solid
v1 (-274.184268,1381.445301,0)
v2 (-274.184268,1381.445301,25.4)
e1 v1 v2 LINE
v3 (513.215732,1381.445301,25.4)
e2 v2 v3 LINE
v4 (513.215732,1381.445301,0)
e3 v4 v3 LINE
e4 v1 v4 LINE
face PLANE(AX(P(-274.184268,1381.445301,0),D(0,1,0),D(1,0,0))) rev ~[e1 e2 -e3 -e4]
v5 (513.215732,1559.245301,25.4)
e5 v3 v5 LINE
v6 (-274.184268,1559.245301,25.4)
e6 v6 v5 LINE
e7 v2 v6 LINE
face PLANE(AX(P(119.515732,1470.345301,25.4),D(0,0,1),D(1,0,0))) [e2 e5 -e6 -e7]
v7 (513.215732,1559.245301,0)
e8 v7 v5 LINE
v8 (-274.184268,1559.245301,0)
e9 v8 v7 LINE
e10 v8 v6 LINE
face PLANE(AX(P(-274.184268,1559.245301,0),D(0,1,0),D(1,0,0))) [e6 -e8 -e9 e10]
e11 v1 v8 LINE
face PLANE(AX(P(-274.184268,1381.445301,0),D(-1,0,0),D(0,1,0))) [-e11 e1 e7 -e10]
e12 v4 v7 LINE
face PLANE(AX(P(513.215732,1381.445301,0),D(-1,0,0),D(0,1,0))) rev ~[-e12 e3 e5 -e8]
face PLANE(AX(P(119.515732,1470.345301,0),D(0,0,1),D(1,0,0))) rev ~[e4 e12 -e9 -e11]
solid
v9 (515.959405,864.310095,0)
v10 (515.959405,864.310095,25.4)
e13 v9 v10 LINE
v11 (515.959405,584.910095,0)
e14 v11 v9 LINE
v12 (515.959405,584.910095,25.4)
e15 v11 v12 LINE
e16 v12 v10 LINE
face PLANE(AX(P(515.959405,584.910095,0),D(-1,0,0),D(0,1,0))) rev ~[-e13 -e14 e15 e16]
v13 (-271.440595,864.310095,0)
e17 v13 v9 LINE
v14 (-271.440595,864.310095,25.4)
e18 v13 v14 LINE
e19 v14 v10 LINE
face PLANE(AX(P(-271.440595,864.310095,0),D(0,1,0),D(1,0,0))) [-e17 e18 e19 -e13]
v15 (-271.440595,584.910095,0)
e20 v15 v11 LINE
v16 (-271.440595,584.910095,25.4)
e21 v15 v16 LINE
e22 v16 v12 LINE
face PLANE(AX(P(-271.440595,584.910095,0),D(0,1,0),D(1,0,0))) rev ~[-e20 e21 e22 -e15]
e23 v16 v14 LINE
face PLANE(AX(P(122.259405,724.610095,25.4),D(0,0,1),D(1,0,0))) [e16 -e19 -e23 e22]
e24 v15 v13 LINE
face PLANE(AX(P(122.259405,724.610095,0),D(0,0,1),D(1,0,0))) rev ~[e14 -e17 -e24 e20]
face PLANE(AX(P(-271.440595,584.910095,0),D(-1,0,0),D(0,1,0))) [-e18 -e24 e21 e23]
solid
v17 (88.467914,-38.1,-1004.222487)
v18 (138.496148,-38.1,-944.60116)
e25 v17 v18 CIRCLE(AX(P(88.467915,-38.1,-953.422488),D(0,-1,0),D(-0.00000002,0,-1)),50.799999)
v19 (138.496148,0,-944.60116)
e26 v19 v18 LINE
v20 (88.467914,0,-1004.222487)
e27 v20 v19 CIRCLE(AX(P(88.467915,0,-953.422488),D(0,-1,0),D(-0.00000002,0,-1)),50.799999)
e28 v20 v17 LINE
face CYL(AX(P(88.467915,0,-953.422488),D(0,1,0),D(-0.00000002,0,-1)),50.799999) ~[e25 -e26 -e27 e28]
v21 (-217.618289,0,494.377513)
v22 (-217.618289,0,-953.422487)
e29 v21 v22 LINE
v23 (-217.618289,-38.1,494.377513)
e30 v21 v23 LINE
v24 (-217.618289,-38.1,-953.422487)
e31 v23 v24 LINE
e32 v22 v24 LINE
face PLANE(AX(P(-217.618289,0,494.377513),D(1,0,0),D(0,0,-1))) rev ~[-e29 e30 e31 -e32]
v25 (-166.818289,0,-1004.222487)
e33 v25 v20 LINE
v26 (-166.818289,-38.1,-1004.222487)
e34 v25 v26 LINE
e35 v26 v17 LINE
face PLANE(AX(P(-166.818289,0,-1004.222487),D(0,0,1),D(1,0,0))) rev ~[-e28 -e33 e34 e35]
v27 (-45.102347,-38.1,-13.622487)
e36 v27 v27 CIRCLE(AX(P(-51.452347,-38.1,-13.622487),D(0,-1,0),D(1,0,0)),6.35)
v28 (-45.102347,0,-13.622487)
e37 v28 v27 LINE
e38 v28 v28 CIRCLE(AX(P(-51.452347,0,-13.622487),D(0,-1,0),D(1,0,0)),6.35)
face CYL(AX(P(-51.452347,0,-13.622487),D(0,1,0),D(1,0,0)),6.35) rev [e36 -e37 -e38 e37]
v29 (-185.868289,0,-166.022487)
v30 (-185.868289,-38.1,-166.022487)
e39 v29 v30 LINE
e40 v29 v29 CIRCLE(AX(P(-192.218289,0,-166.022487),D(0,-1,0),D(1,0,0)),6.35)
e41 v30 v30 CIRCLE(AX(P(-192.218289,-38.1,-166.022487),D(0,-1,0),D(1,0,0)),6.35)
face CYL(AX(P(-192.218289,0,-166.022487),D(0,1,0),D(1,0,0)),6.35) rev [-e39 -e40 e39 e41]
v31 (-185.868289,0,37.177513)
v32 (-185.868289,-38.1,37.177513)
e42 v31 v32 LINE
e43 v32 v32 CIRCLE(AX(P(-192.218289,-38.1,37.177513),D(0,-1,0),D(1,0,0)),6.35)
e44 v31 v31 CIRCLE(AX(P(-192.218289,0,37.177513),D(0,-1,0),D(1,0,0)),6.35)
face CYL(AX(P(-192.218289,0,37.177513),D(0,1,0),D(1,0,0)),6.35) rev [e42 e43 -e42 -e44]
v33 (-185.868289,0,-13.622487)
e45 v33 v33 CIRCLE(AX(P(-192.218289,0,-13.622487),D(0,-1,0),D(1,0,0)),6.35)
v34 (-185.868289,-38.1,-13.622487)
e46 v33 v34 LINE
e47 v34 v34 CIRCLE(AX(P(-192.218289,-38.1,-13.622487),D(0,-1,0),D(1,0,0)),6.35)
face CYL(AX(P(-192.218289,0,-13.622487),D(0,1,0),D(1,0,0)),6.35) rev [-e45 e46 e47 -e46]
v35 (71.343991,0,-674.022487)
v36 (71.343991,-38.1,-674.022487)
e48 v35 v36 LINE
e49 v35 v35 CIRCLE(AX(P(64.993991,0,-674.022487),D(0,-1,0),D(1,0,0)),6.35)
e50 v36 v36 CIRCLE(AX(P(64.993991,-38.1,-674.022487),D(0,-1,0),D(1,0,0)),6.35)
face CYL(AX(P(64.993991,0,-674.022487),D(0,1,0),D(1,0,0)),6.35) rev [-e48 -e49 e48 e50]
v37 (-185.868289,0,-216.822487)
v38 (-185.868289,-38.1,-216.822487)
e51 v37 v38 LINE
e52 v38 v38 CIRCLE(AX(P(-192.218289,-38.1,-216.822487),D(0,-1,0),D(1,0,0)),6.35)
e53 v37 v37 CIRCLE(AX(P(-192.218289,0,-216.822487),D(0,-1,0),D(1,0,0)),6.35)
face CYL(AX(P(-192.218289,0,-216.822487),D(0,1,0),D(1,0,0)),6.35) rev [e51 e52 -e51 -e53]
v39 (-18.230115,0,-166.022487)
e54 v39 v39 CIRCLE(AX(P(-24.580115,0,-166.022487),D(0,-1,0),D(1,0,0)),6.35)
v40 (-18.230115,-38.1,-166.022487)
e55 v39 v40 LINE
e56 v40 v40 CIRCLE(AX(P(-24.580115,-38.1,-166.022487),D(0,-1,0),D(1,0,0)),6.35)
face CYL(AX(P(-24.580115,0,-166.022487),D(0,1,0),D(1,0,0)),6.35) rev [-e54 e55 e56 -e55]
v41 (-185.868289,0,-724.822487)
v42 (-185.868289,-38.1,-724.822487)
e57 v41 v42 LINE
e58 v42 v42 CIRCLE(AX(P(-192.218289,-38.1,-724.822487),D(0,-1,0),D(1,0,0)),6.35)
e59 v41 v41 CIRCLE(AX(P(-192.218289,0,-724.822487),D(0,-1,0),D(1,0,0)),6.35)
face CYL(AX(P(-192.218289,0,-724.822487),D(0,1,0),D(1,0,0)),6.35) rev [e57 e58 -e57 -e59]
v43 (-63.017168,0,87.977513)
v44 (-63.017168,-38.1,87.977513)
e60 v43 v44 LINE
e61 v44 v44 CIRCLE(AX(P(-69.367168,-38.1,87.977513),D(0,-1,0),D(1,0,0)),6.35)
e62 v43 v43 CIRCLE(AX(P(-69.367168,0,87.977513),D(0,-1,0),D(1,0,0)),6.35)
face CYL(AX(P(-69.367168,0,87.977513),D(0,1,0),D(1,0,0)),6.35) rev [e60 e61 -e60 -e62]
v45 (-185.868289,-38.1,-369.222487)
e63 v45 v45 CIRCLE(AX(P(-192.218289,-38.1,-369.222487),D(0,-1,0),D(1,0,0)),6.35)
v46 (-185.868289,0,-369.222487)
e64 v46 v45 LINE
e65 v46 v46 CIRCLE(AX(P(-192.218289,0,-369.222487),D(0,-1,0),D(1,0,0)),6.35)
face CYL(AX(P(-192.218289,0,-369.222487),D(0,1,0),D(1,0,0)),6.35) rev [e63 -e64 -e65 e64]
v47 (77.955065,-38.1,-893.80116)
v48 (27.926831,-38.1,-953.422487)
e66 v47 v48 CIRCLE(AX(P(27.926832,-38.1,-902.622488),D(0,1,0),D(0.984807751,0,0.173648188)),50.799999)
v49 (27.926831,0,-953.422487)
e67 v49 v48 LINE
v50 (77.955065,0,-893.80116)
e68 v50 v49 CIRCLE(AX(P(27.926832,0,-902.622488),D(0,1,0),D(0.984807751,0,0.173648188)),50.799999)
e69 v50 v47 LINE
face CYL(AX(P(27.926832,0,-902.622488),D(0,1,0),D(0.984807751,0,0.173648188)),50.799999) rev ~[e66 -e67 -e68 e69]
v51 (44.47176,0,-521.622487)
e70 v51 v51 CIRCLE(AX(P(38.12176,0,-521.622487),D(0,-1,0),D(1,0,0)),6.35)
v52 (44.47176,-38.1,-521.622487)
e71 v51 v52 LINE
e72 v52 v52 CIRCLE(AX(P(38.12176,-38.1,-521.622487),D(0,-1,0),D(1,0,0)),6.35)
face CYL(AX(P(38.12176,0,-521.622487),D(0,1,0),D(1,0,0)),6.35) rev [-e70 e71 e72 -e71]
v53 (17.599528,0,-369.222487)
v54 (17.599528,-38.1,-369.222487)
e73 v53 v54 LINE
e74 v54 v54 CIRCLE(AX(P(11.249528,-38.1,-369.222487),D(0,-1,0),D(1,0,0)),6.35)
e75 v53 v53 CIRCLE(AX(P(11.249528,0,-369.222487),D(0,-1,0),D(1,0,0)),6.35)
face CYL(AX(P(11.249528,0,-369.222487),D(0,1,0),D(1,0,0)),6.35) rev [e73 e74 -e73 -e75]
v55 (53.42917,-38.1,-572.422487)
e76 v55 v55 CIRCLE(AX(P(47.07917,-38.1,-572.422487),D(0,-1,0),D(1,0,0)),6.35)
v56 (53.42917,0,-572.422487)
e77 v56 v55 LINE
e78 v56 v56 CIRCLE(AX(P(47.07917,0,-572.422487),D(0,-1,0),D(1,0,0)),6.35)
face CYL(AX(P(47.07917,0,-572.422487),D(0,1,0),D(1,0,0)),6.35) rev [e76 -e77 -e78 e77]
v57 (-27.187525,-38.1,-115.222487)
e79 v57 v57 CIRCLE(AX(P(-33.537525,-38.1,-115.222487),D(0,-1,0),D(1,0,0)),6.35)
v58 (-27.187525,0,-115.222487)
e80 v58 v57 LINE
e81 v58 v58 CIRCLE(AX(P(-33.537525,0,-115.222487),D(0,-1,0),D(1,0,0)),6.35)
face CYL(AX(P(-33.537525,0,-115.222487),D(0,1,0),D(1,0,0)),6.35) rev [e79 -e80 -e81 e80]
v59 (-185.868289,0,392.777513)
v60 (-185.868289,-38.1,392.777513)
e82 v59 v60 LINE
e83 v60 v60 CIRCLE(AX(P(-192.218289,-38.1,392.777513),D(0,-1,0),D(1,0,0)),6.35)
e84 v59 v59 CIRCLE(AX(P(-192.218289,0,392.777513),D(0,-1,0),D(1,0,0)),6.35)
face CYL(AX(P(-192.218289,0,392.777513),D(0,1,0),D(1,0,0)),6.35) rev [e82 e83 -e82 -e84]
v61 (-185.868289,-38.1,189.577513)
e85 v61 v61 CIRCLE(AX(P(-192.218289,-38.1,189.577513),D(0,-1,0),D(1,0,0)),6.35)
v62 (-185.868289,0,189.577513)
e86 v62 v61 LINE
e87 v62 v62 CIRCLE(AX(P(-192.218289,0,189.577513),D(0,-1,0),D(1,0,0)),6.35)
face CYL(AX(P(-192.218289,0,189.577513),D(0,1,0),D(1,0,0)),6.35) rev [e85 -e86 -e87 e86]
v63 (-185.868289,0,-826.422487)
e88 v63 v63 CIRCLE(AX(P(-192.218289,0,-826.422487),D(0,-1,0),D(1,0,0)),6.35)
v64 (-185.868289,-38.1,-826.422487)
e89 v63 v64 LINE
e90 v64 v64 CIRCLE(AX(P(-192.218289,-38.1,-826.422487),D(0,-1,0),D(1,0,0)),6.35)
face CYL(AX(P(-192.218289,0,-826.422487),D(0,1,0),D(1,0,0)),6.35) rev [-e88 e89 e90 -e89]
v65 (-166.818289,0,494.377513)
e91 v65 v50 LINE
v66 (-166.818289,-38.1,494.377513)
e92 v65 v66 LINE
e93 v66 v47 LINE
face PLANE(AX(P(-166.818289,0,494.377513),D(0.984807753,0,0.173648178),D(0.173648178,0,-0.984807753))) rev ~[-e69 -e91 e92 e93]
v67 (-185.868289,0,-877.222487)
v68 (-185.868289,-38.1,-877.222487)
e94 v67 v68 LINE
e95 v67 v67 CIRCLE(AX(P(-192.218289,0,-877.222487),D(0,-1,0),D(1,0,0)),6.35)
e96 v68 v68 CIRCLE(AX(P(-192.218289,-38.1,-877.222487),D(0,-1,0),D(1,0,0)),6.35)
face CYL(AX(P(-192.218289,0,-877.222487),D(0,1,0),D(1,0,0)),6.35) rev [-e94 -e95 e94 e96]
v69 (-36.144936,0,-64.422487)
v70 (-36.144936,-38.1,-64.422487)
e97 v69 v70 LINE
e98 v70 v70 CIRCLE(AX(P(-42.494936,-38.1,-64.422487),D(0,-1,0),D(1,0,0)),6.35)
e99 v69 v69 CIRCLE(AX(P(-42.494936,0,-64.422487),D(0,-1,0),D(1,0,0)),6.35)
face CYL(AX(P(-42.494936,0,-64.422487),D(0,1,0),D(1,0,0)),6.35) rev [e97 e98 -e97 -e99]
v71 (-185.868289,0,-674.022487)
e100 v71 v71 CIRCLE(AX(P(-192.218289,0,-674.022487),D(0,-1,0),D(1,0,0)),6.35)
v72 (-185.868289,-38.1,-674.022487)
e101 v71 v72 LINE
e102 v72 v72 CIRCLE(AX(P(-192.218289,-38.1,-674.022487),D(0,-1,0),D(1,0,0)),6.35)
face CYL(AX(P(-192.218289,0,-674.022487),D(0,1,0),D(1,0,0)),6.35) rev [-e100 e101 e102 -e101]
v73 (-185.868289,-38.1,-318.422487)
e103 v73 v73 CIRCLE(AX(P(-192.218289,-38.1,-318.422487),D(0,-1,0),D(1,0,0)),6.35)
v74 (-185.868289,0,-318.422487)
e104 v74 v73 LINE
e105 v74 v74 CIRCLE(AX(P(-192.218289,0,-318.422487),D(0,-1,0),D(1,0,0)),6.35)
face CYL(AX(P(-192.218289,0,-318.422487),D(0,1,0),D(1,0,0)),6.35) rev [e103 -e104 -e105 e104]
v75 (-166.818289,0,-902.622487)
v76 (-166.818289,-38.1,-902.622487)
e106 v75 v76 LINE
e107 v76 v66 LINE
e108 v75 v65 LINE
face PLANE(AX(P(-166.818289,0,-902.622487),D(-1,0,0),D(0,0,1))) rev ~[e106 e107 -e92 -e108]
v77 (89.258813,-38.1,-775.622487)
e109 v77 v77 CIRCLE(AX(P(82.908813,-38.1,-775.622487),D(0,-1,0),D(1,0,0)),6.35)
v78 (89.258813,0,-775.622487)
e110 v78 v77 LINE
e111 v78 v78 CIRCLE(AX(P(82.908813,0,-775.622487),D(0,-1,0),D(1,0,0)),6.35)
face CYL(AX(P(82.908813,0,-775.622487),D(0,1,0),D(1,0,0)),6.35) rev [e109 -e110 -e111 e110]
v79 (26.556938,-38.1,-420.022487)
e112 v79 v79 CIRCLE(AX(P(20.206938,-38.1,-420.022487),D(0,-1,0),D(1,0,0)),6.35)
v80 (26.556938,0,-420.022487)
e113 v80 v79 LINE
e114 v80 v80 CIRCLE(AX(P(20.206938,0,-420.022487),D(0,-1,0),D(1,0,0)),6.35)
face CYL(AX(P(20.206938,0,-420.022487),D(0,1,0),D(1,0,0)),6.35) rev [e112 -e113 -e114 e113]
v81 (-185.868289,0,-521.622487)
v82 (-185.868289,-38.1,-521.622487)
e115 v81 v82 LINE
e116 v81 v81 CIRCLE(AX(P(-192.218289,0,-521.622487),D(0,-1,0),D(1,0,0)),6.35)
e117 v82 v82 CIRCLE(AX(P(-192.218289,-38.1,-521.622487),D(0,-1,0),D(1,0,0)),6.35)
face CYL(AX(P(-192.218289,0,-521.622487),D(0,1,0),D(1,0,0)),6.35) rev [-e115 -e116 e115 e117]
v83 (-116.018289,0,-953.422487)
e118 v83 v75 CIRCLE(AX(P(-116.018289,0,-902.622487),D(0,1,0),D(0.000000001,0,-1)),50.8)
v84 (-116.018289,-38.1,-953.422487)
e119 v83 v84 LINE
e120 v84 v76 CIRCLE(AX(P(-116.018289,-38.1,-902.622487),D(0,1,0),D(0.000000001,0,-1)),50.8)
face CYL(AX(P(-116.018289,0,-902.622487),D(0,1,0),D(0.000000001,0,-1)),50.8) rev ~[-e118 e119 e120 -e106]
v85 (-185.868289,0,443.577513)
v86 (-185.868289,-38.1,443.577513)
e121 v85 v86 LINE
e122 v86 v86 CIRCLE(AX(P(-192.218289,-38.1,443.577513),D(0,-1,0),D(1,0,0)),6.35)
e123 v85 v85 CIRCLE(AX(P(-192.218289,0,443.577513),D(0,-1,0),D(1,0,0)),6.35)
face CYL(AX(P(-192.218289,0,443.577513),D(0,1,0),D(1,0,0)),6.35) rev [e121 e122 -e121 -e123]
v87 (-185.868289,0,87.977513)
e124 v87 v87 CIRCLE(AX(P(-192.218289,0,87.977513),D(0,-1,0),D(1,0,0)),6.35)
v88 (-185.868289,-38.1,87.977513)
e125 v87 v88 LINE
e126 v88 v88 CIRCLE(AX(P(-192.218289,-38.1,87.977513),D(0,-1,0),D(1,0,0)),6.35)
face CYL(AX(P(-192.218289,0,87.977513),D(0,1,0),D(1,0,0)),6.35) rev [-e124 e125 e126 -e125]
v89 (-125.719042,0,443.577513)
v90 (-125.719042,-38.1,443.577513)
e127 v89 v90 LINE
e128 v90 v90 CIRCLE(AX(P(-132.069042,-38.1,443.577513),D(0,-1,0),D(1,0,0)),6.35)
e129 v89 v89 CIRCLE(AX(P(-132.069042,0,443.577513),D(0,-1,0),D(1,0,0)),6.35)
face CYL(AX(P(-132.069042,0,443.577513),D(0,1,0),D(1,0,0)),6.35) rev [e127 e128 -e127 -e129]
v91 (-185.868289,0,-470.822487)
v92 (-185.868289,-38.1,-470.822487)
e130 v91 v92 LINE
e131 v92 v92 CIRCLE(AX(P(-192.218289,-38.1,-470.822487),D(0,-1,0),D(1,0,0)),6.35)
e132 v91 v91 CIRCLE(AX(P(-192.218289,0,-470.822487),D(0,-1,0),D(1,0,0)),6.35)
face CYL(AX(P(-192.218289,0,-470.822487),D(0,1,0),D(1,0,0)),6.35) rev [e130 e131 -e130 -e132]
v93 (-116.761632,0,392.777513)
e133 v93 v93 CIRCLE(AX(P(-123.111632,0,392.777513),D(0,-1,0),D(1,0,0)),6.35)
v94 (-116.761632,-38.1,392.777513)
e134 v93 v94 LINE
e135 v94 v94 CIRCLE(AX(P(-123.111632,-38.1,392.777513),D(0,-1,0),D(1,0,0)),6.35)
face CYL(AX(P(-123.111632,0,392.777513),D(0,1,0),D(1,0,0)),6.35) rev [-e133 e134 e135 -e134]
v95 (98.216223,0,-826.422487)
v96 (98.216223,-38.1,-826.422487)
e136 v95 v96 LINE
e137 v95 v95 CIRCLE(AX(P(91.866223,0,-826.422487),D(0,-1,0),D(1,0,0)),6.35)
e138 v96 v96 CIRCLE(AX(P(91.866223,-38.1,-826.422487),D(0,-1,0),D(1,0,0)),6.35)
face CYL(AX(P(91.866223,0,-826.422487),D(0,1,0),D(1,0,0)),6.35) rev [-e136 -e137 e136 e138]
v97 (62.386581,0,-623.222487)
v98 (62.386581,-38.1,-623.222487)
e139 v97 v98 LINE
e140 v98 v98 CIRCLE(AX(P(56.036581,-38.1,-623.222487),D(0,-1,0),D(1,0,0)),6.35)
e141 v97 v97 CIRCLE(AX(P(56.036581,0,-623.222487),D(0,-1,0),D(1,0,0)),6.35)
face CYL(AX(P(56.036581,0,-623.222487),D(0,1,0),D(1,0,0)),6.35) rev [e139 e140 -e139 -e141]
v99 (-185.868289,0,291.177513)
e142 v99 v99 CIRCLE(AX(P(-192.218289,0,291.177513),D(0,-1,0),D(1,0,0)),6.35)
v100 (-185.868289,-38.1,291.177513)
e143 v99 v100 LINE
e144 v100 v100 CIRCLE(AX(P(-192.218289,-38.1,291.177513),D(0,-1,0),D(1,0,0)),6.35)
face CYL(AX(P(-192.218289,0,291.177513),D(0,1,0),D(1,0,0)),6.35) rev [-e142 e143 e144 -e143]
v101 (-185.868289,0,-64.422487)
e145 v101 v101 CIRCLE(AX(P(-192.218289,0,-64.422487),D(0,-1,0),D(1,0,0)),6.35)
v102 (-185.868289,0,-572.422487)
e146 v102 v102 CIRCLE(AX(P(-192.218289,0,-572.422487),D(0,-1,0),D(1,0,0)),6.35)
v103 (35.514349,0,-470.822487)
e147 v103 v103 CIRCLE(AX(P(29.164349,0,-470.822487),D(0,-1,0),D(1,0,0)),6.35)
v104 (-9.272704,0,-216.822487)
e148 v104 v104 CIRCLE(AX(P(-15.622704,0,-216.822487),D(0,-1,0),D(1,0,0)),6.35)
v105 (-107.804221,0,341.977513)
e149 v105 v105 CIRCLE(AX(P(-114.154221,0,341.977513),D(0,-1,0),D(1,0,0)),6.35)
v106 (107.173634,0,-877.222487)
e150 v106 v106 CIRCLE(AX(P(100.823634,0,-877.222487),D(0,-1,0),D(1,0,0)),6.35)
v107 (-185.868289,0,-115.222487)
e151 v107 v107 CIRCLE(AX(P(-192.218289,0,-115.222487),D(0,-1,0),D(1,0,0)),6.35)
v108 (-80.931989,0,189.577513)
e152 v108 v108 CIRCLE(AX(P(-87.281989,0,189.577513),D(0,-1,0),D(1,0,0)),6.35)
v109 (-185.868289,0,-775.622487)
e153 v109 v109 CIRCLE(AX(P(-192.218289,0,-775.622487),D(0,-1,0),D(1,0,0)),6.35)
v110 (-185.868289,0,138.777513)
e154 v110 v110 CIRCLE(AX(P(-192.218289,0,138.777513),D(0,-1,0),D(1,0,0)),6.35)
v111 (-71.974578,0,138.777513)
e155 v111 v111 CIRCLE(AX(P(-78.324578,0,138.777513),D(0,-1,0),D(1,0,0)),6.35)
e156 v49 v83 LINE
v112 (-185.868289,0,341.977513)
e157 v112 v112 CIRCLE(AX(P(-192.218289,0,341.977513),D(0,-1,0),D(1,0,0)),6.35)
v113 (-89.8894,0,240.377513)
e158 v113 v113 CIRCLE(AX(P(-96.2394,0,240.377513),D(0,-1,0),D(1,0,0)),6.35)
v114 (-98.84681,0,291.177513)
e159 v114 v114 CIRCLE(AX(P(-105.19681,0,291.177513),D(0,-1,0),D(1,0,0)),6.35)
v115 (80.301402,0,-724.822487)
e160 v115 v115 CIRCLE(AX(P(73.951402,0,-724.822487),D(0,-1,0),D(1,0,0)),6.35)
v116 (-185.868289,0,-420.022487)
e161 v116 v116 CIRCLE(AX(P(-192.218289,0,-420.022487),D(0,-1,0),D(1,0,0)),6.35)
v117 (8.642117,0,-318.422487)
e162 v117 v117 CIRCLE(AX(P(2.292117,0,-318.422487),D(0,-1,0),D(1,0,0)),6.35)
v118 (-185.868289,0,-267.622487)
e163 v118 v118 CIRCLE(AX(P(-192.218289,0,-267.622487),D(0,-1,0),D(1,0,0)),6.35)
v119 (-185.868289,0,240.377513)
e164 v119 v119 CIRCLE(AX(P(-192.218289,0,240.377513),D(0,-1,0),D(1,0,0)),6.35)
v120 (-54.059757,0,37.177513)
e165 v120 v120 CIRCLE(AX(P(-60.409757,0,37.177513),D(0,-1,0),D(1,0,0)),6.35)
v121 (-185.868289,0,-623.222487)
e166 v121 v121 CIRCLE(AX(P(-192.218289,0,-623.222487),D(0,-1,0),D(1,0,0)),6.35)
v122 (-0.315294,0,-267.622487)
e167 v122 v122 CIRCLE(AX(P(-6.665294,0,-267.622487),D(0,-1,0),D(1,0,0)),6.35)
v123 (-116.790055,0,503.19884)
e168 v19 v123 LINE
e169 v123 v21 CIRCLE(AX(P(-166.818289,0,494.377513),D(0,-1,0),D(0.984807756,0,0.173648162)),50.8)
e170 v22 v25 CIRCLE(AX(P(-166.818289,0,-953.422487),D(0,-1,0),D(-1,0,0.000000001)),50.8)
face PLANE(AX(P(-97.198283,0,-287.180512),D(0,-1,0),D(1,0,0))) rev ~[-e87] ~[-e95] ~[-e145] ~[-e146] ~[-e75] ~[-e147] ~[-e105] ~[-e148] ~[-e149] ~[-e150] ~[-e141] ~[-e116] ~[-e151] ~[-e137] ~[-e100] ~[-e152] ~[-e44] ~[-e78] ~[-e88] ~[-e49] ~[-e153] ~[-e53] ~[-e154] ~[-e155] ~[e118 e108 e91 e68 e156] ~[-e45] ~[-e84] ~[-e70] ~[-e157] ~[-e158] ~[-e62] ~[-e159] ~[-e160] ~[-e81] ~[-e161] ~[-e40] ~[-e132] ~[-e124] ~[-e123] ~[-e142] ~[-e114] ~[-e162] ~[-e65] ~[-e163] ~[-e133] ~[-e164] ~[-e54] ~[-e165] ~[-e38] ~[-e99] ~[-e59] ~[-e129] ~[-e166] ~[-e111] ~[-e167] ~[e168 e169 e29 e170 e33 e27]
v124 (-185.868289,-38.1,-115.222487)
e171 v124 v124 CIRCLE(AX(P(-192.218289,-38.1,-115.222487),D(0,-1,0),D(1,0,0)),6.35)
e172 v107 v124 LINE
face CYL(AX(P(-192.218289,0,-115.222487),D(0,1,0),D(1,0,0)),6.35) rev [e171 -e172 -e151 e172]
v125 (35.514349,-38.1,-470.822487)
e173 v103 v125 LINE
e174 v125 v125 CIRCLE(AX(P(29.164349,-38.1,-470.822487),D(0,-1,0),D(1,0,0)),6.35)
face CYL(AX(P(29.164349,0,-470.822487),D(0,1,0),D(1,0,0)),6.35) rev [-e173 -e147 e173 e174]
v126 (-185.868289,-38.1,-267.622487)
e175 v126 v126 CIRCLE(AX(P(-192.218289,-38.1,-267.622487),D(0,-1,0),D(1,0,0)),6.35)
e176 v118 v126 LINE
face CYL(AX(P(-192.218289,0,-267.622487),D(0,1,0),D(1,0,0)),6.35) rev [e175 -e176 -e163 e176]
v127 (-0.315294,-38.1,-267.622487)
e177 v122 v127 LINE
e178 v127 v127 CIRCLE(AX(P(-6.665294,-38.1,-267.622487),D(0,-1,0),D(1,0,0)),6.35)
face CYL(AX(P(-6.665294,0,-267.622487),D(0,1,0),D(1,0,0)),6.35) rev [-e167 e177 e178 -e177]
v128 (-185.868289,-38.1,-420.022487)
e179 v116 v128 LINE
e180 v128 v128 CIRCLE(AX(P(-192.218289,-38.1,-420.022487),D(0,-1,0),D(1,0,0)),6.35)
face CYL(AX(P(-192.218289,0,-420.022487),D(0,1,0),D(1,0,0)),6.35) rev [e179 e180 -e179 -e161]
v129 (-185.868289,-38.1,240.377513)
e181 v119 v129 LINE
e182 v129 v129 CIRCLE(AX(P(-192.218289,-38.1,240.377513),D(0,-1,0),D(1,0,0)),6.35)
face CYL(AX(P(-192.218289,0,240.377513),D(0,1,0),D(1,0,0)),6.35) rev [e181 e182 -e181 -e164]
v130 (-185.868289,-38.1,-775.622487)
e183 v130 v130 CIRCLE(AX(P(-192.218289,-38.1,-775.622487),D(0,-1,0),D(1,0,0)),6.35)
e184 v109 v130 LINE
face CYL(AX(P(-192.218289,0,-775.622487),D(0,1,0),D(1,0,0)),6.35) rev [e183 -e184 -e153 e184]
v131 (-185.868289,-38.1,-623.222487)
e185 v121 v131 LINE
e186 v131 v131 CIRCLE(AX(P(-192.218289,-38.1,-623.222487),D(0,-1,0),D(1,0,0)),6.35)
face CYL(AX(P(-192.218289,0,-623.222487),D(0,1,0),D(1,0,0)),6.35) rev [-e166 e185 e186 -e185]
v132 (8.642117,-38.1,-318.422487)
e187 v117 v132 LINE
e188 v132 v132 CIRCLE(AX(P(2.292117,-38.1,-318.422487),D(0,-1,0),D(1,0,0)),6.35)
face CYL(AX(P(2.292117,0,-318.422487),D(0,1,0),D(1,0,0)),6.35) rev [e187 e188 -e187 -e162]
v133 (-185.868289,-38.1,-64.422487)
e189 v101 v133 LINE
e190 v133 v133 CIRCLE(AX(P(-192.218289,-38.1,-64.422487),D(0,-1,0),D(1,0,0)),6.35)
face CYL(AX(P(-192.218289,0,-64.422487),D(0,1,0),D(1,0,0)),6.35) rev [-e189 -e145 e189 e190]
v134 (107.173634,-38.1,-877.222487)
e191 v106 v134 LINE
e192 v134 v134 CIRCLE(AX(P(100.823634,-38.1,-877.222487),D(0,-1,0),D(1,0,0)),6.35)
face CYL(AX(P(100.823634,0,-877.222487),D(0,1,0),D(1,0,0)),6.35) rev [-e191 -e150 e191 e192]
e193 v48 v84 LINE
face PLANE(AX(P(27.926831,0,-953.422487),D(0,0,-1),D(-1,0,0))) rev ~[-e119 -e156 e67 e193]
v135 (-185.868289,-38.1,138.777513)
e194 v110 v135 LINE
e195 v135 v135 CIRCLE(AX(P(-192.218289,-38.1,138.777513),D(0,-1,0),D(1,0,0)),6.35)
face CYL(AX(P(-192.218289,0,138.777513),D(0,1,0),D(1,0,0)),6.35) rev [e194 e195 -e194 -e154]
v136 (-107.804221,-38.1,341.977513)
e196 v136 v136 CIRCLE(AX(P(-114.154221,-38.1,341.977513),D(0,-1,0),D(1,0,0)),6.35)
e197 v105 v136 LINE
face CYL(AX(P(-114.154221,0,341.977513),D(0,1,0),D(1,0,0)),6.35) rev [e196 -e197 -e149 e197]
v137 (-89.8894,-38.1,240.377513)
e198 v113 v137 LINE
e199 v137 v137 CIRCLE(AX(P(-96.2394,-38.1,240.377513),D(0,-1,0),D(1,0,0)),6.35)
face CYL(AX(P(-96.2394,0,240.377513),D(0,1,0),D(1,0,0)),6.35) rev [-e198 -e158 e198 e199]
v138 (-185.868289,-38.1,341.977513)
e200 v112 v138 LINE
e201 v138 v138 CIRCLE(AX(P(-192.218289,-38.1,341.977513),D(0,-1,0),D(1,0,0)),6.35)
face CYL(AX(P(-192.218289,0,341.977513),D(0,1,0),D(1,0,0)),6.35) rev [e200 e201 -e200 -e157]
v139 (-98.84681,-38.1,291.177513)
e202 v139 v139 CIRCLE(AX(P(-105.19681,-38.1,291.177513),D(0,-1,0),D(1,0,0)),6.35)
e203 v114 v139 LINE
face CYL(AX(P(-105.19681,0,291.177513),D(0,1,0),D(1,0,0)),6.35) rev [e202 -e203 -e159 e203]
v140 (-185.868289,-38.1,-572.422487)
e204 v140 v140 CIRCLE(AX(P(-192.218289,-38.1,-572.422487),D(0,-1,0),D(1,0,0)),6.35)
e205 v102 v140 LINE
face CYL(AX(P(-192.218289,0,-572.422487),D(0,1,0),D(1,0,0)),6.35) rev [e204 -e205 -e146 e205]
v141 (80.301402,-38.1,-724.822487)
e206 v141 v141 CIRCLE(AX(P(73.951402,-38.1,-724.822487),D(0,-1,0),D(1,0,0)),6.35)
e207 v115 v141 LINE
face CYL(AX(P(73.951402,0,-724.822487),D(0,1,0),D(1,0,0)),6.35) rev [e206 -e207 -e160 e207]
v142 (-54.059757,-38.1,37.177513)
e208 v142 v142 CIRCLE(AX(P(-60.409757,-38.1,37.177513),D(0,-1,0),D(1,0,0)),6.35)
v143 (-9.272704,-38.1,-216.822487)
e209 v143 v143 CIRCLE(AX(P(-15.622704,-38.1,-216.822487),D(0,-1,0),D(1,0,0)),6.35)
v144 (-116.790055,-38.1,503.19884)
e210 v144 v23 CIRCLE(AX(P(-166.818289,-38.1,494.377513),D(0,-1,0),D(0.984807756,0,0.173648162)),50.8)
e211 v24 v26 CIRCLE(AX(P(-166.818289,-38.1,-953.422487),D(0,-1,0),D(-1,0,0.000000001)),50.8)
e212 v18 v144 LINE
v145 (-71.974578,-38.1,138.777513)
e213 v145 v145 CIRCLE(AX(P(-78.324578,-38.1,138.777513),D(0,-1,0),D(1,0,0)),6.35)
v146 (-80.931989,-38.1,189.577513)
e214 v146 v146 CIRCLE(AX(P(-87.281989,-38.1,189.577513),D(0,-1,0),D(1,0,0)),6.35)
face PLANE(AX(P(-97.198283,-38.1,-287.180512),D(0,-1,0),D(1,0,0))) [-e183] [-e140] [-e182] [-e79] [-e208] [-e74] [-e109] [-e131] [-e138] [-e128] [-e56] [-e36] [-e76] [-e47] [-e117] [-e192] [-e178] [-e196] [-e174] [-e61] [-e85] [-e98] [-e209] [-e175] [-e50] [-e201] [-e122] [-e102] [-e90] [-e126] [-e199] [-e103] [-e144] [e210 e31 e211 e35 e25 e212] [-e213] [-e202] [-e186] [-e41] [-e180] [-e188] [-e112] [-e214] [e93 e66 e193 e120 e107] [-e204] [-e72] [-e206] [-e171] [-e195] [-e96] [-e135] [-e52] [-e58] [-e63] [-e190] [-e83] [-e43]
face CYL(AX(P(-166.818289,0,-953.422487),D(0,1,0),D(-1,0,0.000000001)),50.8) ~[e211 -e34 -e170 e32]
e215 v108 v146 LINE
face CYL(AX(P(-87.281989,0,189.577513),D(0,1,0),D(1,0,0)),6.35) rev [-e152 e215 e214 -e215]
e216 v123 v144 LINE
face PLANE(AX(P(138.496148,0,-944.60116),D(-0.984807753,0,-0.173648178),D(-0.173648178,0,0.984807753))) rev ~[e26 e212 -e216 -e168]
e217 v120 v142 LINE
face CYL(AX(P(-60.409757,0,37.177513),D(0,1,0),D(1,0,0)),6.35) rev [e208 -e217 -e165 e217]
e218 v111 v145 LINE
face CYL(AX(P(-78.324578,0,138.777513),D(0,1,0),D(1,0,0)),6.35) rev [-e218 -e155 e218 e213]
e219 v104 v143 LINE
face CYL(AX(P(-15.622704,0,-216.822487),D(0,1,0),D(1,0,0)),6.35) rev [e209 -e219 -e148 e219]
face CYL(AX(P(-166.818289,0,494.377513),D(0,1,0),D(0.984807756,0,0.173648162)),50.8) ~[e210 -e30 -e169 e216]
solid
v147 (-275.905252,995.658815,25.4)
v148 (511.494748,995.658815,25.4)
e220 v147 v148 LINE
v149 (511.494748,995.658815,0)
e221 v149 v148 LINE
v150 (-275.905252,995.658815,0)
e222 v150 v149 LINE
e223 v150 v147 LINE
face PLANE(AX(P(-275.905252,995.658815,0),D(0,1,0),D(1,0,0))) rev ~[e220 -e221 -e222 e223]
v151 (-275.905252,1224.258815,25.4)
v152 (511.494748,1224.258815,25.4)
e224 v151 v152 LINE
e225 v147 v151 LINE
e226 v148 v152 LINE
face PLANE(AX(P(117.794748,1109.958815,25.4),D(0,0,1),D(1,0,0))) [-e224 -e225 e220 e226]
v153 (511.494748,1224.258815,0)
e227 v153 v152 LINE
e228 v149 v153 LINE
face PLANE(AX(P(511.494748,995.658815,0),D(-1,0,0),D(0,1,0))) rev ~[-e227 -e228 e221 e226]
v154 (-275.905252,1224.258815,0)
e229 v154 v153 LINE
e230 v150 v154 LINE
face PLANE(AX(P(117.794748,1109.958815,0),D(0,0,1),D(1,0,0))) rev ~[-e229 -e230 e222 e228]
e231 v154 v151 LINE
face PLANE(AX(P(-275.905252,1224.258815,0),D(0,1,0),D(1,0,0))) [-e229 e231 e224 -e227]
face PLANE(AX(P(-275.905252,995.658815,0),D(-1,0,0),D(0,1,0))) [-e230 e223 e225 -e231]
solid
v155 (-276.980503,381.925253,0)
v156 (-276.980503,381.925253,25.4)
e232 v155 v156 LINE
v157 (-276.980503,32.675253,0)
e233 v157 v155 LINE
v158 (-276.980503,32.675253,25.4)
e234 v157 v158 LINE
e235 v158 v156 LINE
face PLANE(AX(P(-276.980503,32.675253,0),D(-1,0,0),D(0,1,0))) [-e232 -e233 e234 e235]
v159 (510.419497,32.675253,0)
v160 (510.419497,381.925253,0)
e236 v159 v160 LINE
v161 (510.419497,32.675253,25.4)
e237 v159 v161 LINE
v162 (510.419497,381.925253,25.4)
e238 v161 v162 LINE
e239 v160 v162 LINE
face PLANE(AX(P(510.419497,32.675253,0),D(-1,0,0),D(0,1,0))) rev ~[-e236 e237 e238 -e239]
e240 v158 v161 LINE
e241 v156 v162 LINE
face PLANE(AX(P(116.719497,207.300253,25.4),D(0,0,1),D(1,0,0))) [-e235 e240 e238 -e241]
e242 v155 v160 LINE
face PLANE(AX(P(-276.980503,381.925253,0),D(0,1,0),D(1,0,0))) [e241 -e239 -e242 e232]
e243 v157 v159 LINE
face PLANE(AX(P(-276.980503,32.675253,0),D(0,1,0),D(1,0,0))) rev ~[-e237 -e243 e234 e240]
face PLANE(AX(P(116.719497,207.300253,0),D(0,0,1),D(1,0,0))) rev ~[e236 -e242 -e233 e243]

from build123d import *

# Parameters (mm, degrees)
F0_R     = 6.35
F1_DEPTH = 38.1
F2_W     = 787.4
F2_H     = 349.25
F2_H_2   = 279.4
F2_H_3   = 228.6
F2_H_4   = 177.8
F3_DEPTH = 25.4


with BuildPart() as f1:
    # F0 (on Front) → F1 (new body)
    with BuildSketch(Plane.XZ):
        with BuildLine():
            ThreePointArc((-116.790055, 503.19884), (-171.245801, 544.984204), (-217.618289, 494.377513))
            Line((-217.618289, 494.377513), (-217.618289, -953.422487))
            ThreePointArc((-217.618289, -953.422487), (-202.739313, -989.343512), (-166.818289, -1004.222487))
            Line((-166.818289, -1004.222487), (88.467914, -1004.222487))
            ThreePointArc((88.467914, -1004.222487), (127.382972, -986.076098), (138.496148, -944.60116))
            Line((138.496148, -944.60116), (-116.790055, 503.19884))
        make_face()
        with Locations((-192.218289, -877.222487)):
            Circle(F0_R, mode=Mode.SUBTRACT)
        with Locations((-192.218289, -826.422487)):
            Circle(F0_R, mode=Mode.SUBTRACT)
        with Locations((-192.218289, -775.622487)):
            Circle(F0_R, mode=Mode.SUBTRACT)
        with Locations((-192.218289, -724.822487)):
            Circle(F0_R, mode=Mode.SUBTRACT)
        with Locations((-192.218289, -674.022487)):
            Circle(F0_R, mode=Mode.SUBTRACT)
        with Locations((-192.218289, -623.222487)):
            Circle(F0_R, mode=Mode.SUBTRACT)
        with Locations((-192.218289, -572.422487)):
            Circle(F0_R, mode=Mode.SUBTRACT)
        with Locations((-192.218289, -521.622487)):
            Circle(F0_R, mode=Mode.SUBTRACT)
        with Locations((-192.218289, -470.822487)):
            Circle(F0_R, mode=Mode.SUBTRACT)
        with Locations((-192.218289, -420.022487)):
            Circle(F0_R, mode=Mode.SUBTRACT)
        with Locations((-192.218289, -369.222487)):
            Circle(F0_R, mode=Mode.SUBTRACT)
        with Locations((-192.218289, -318.422487)):
            Circle(F0_R, mode=Mode.SUBTRACT)
        with Locations((-192.218289, -267.622487)):
            Circle(F0_R, mode=Mode.SUBTRACT)
        with Locations((91.866223, -826.422487)):
            Circle(F0_R, mode=Mode.SUBTRACT)
        with Locations((100.823634, -877.222487)):
            Circle(F0_R, mode=Mode.SUBTRACT)
        with Locations((82.908813, -775.622487)):
            Circle(F0_R, mode=Mode.SUBTRACT)
        with Locations((73.951402, -724.822487)):
            Circle(F0_R, mode=Mode.SUBTRACT)
        with Locations((64.993991, -674.022487)):
            Circle(F0_R, mode=Mode.SUBTRACT)
        with Locations((56.036581, -623.222487)):
            Circle(F0_R, mode=Mode.SUBTRACT)
        with Locations((47.07917, -572.422487)):
            Circle(F0_R, mode=Mode.SUBTRACT)
        with Locations((38.12176, -521.622487)):
            Circle(F0_R, mode=Mode.SUBTRACT)
        with Locations((29.164349, -470.822487)):
            Circle(F0_R, mode=Mode.SUBTRACT)
        with Locations((2.292117, -318.422487)):
            Circle(F0_R, mode=Mode.SUBTRACT)
        with Locations((-6.665294, -267.622487)):
            Circle(F0_R, mode=Mode.SUBTRACT)
        with Locations((20.206938, -420.022487)):
            Circle(F0_R, mode=Mode.SUBTRACT)
        with Locations((11.249528, -369.222487)):
            Circle(F0_R, mode=Mode.SUBTRACT)
        with Locations((-192.218289, -216.822487)):
            Circle(F0_R, mode=Mode.SUBTRACT)
        with Locations((-192.218289, -166.022487)):
            Circle(F0_R, mode=Mode.SUBTRACT)
        with Locations((-192.218289, -115.222487)):
            Circle(F0_R, mode=Mode.SUBTRACT)
        with Locations((-192.218289, -64.422487)):
            Circle(F0_R, mode=Mode.SUBTRACT)
        with Locations((-192.218289, -13.622487)):
            Circle(F0_R, mode=Mode.SUBTRACT)
        with Locations((-192.218289, 37.177513)):
            Circle(F0_R, mode=Mode.SUBTRACT)
        with Locations((-192.218289, 87.977513)):
            Circle(F0_R, mode=Mode.SUBTRACT)
        with Locations((-192.218289, 138.777513)):
            Circle(F0_R, mode=Mode.SUBTRACT)
        with BuildLine():
            Line((-166.818289, -902.622487), (-166.818289, 494.377513))
            Line((-166.818289, 494.377513), (77.955065, -893.80116))
            ThreePointArc((77.955065, -893.80116), (66.841889, -935.276098), (27.926831, -953.422487))
            Line((27.926831, -953.422487), (-116.018289, -953.422487))
            ThreePointArc((-116.018289, -953.422487), (-151.939313, -938.543512), (-166.818289, -902.622487))
        make_face(mode=Mode.SUBTRACT)
        with Locations((-42.494936, -64.422487)):
            Circle(F0_R, mode=Mode.SUBTRACT)
        with Locations((-51.452347, -13.622487)):
            Circle(F0_R, mode=Mode.SUBTRACT)
        with Locations((-60.409757, 37.177513)):
            Circle(F0_R, mode=Mode.SUBTRACT)
        with Locations((-69.367168, 87.977513)):
            Circle(F0_R, mode=Mode.SUBTRACT)
        with Locations((-78.324578, 138.777513)):
            Circle(F0_R, mode=Mode.SUBTRACT)
        with Locations((-192.218289, 189.577513)):
            Circle(F0_R, mode=Mode.SUBTRACT)
        with Locations((-192.218289, 240.377513)):
            Circle(F0_R, mode=Mode.SUBTRACT)
        with Locations((-192.218289, 291.177513)):
            Circle(F0_R, mode=Mode.SUBTRACT)
        with Locations((-192.218289, 341.977513)):
            Circle(F0_R, mode=Mode.SUBTRACT)
        with Locations((-192.218289, 392.777513)):
            Circle(F0_R, mode=Mode.SUBTRACT)
        with Locations((-192.218289, 443.577513)):
            Circle(F0_R, mode=Mode.SUBTRACT)
        with Locations((-132.069042, 443.577513)):
            Circle(F0_R, mode=Mode.SUBTRACT)
        with Locations((-87.281989, 189.577513)):
            Circle(F0_R, mode=Mode.SUBTRACT)
        with Locations((-96.2394, 240.377513)):
            Circle(F0_R, mode=Mode.SUBTRACT)
        with Locations((-114.154221, 341.977513)):
            Circle(F0_R, mode=Mode.SUBTRACT)
        with Locations((-105.19681, 291.177513)):
            Circle(F0_R, mode=Mode.SUBTRACT)
        with Locations((-123.111632, 392.777513)):
            Circle(F0_R, mode=Mode.SUBTRACT)
        with Locations((-24.580115, -166.022487)):
            Circle(F0_R, mode=Mode.SUBTRACT)
        with Locations((-15.622704, -216.822487)):
            Circle(F0_R, mode=Mode.SUBTRACT)
        with Locations((-33.537525, -115.222487)):
            Circle(F0_R, mode=Mode.SUBTRACT)
    extrude(amount=F1_DEPTH)


with BuildPart() as f3:
    # F2 (on Top) → F3 (new body)
    with BuildSketch(Plane.XY):
        with Locations((116.719497, 207.300253)):
            Rectangle(F2_W, F2_H)
        with Locations((122.259405, 724.610095)):
            Rectangle(F2_W, F2_H_2)
        with Locations((117.794748, 1109.958815)):
            Rectangle(F2_W, F2_H_3)
        with Locations((119.515732, 1470.345301)):
            Rectangle(F2_W, F2_H_4)
    extrude(amount=F3_DEPTH)


solid = Compound([f1.part, f3.part])
